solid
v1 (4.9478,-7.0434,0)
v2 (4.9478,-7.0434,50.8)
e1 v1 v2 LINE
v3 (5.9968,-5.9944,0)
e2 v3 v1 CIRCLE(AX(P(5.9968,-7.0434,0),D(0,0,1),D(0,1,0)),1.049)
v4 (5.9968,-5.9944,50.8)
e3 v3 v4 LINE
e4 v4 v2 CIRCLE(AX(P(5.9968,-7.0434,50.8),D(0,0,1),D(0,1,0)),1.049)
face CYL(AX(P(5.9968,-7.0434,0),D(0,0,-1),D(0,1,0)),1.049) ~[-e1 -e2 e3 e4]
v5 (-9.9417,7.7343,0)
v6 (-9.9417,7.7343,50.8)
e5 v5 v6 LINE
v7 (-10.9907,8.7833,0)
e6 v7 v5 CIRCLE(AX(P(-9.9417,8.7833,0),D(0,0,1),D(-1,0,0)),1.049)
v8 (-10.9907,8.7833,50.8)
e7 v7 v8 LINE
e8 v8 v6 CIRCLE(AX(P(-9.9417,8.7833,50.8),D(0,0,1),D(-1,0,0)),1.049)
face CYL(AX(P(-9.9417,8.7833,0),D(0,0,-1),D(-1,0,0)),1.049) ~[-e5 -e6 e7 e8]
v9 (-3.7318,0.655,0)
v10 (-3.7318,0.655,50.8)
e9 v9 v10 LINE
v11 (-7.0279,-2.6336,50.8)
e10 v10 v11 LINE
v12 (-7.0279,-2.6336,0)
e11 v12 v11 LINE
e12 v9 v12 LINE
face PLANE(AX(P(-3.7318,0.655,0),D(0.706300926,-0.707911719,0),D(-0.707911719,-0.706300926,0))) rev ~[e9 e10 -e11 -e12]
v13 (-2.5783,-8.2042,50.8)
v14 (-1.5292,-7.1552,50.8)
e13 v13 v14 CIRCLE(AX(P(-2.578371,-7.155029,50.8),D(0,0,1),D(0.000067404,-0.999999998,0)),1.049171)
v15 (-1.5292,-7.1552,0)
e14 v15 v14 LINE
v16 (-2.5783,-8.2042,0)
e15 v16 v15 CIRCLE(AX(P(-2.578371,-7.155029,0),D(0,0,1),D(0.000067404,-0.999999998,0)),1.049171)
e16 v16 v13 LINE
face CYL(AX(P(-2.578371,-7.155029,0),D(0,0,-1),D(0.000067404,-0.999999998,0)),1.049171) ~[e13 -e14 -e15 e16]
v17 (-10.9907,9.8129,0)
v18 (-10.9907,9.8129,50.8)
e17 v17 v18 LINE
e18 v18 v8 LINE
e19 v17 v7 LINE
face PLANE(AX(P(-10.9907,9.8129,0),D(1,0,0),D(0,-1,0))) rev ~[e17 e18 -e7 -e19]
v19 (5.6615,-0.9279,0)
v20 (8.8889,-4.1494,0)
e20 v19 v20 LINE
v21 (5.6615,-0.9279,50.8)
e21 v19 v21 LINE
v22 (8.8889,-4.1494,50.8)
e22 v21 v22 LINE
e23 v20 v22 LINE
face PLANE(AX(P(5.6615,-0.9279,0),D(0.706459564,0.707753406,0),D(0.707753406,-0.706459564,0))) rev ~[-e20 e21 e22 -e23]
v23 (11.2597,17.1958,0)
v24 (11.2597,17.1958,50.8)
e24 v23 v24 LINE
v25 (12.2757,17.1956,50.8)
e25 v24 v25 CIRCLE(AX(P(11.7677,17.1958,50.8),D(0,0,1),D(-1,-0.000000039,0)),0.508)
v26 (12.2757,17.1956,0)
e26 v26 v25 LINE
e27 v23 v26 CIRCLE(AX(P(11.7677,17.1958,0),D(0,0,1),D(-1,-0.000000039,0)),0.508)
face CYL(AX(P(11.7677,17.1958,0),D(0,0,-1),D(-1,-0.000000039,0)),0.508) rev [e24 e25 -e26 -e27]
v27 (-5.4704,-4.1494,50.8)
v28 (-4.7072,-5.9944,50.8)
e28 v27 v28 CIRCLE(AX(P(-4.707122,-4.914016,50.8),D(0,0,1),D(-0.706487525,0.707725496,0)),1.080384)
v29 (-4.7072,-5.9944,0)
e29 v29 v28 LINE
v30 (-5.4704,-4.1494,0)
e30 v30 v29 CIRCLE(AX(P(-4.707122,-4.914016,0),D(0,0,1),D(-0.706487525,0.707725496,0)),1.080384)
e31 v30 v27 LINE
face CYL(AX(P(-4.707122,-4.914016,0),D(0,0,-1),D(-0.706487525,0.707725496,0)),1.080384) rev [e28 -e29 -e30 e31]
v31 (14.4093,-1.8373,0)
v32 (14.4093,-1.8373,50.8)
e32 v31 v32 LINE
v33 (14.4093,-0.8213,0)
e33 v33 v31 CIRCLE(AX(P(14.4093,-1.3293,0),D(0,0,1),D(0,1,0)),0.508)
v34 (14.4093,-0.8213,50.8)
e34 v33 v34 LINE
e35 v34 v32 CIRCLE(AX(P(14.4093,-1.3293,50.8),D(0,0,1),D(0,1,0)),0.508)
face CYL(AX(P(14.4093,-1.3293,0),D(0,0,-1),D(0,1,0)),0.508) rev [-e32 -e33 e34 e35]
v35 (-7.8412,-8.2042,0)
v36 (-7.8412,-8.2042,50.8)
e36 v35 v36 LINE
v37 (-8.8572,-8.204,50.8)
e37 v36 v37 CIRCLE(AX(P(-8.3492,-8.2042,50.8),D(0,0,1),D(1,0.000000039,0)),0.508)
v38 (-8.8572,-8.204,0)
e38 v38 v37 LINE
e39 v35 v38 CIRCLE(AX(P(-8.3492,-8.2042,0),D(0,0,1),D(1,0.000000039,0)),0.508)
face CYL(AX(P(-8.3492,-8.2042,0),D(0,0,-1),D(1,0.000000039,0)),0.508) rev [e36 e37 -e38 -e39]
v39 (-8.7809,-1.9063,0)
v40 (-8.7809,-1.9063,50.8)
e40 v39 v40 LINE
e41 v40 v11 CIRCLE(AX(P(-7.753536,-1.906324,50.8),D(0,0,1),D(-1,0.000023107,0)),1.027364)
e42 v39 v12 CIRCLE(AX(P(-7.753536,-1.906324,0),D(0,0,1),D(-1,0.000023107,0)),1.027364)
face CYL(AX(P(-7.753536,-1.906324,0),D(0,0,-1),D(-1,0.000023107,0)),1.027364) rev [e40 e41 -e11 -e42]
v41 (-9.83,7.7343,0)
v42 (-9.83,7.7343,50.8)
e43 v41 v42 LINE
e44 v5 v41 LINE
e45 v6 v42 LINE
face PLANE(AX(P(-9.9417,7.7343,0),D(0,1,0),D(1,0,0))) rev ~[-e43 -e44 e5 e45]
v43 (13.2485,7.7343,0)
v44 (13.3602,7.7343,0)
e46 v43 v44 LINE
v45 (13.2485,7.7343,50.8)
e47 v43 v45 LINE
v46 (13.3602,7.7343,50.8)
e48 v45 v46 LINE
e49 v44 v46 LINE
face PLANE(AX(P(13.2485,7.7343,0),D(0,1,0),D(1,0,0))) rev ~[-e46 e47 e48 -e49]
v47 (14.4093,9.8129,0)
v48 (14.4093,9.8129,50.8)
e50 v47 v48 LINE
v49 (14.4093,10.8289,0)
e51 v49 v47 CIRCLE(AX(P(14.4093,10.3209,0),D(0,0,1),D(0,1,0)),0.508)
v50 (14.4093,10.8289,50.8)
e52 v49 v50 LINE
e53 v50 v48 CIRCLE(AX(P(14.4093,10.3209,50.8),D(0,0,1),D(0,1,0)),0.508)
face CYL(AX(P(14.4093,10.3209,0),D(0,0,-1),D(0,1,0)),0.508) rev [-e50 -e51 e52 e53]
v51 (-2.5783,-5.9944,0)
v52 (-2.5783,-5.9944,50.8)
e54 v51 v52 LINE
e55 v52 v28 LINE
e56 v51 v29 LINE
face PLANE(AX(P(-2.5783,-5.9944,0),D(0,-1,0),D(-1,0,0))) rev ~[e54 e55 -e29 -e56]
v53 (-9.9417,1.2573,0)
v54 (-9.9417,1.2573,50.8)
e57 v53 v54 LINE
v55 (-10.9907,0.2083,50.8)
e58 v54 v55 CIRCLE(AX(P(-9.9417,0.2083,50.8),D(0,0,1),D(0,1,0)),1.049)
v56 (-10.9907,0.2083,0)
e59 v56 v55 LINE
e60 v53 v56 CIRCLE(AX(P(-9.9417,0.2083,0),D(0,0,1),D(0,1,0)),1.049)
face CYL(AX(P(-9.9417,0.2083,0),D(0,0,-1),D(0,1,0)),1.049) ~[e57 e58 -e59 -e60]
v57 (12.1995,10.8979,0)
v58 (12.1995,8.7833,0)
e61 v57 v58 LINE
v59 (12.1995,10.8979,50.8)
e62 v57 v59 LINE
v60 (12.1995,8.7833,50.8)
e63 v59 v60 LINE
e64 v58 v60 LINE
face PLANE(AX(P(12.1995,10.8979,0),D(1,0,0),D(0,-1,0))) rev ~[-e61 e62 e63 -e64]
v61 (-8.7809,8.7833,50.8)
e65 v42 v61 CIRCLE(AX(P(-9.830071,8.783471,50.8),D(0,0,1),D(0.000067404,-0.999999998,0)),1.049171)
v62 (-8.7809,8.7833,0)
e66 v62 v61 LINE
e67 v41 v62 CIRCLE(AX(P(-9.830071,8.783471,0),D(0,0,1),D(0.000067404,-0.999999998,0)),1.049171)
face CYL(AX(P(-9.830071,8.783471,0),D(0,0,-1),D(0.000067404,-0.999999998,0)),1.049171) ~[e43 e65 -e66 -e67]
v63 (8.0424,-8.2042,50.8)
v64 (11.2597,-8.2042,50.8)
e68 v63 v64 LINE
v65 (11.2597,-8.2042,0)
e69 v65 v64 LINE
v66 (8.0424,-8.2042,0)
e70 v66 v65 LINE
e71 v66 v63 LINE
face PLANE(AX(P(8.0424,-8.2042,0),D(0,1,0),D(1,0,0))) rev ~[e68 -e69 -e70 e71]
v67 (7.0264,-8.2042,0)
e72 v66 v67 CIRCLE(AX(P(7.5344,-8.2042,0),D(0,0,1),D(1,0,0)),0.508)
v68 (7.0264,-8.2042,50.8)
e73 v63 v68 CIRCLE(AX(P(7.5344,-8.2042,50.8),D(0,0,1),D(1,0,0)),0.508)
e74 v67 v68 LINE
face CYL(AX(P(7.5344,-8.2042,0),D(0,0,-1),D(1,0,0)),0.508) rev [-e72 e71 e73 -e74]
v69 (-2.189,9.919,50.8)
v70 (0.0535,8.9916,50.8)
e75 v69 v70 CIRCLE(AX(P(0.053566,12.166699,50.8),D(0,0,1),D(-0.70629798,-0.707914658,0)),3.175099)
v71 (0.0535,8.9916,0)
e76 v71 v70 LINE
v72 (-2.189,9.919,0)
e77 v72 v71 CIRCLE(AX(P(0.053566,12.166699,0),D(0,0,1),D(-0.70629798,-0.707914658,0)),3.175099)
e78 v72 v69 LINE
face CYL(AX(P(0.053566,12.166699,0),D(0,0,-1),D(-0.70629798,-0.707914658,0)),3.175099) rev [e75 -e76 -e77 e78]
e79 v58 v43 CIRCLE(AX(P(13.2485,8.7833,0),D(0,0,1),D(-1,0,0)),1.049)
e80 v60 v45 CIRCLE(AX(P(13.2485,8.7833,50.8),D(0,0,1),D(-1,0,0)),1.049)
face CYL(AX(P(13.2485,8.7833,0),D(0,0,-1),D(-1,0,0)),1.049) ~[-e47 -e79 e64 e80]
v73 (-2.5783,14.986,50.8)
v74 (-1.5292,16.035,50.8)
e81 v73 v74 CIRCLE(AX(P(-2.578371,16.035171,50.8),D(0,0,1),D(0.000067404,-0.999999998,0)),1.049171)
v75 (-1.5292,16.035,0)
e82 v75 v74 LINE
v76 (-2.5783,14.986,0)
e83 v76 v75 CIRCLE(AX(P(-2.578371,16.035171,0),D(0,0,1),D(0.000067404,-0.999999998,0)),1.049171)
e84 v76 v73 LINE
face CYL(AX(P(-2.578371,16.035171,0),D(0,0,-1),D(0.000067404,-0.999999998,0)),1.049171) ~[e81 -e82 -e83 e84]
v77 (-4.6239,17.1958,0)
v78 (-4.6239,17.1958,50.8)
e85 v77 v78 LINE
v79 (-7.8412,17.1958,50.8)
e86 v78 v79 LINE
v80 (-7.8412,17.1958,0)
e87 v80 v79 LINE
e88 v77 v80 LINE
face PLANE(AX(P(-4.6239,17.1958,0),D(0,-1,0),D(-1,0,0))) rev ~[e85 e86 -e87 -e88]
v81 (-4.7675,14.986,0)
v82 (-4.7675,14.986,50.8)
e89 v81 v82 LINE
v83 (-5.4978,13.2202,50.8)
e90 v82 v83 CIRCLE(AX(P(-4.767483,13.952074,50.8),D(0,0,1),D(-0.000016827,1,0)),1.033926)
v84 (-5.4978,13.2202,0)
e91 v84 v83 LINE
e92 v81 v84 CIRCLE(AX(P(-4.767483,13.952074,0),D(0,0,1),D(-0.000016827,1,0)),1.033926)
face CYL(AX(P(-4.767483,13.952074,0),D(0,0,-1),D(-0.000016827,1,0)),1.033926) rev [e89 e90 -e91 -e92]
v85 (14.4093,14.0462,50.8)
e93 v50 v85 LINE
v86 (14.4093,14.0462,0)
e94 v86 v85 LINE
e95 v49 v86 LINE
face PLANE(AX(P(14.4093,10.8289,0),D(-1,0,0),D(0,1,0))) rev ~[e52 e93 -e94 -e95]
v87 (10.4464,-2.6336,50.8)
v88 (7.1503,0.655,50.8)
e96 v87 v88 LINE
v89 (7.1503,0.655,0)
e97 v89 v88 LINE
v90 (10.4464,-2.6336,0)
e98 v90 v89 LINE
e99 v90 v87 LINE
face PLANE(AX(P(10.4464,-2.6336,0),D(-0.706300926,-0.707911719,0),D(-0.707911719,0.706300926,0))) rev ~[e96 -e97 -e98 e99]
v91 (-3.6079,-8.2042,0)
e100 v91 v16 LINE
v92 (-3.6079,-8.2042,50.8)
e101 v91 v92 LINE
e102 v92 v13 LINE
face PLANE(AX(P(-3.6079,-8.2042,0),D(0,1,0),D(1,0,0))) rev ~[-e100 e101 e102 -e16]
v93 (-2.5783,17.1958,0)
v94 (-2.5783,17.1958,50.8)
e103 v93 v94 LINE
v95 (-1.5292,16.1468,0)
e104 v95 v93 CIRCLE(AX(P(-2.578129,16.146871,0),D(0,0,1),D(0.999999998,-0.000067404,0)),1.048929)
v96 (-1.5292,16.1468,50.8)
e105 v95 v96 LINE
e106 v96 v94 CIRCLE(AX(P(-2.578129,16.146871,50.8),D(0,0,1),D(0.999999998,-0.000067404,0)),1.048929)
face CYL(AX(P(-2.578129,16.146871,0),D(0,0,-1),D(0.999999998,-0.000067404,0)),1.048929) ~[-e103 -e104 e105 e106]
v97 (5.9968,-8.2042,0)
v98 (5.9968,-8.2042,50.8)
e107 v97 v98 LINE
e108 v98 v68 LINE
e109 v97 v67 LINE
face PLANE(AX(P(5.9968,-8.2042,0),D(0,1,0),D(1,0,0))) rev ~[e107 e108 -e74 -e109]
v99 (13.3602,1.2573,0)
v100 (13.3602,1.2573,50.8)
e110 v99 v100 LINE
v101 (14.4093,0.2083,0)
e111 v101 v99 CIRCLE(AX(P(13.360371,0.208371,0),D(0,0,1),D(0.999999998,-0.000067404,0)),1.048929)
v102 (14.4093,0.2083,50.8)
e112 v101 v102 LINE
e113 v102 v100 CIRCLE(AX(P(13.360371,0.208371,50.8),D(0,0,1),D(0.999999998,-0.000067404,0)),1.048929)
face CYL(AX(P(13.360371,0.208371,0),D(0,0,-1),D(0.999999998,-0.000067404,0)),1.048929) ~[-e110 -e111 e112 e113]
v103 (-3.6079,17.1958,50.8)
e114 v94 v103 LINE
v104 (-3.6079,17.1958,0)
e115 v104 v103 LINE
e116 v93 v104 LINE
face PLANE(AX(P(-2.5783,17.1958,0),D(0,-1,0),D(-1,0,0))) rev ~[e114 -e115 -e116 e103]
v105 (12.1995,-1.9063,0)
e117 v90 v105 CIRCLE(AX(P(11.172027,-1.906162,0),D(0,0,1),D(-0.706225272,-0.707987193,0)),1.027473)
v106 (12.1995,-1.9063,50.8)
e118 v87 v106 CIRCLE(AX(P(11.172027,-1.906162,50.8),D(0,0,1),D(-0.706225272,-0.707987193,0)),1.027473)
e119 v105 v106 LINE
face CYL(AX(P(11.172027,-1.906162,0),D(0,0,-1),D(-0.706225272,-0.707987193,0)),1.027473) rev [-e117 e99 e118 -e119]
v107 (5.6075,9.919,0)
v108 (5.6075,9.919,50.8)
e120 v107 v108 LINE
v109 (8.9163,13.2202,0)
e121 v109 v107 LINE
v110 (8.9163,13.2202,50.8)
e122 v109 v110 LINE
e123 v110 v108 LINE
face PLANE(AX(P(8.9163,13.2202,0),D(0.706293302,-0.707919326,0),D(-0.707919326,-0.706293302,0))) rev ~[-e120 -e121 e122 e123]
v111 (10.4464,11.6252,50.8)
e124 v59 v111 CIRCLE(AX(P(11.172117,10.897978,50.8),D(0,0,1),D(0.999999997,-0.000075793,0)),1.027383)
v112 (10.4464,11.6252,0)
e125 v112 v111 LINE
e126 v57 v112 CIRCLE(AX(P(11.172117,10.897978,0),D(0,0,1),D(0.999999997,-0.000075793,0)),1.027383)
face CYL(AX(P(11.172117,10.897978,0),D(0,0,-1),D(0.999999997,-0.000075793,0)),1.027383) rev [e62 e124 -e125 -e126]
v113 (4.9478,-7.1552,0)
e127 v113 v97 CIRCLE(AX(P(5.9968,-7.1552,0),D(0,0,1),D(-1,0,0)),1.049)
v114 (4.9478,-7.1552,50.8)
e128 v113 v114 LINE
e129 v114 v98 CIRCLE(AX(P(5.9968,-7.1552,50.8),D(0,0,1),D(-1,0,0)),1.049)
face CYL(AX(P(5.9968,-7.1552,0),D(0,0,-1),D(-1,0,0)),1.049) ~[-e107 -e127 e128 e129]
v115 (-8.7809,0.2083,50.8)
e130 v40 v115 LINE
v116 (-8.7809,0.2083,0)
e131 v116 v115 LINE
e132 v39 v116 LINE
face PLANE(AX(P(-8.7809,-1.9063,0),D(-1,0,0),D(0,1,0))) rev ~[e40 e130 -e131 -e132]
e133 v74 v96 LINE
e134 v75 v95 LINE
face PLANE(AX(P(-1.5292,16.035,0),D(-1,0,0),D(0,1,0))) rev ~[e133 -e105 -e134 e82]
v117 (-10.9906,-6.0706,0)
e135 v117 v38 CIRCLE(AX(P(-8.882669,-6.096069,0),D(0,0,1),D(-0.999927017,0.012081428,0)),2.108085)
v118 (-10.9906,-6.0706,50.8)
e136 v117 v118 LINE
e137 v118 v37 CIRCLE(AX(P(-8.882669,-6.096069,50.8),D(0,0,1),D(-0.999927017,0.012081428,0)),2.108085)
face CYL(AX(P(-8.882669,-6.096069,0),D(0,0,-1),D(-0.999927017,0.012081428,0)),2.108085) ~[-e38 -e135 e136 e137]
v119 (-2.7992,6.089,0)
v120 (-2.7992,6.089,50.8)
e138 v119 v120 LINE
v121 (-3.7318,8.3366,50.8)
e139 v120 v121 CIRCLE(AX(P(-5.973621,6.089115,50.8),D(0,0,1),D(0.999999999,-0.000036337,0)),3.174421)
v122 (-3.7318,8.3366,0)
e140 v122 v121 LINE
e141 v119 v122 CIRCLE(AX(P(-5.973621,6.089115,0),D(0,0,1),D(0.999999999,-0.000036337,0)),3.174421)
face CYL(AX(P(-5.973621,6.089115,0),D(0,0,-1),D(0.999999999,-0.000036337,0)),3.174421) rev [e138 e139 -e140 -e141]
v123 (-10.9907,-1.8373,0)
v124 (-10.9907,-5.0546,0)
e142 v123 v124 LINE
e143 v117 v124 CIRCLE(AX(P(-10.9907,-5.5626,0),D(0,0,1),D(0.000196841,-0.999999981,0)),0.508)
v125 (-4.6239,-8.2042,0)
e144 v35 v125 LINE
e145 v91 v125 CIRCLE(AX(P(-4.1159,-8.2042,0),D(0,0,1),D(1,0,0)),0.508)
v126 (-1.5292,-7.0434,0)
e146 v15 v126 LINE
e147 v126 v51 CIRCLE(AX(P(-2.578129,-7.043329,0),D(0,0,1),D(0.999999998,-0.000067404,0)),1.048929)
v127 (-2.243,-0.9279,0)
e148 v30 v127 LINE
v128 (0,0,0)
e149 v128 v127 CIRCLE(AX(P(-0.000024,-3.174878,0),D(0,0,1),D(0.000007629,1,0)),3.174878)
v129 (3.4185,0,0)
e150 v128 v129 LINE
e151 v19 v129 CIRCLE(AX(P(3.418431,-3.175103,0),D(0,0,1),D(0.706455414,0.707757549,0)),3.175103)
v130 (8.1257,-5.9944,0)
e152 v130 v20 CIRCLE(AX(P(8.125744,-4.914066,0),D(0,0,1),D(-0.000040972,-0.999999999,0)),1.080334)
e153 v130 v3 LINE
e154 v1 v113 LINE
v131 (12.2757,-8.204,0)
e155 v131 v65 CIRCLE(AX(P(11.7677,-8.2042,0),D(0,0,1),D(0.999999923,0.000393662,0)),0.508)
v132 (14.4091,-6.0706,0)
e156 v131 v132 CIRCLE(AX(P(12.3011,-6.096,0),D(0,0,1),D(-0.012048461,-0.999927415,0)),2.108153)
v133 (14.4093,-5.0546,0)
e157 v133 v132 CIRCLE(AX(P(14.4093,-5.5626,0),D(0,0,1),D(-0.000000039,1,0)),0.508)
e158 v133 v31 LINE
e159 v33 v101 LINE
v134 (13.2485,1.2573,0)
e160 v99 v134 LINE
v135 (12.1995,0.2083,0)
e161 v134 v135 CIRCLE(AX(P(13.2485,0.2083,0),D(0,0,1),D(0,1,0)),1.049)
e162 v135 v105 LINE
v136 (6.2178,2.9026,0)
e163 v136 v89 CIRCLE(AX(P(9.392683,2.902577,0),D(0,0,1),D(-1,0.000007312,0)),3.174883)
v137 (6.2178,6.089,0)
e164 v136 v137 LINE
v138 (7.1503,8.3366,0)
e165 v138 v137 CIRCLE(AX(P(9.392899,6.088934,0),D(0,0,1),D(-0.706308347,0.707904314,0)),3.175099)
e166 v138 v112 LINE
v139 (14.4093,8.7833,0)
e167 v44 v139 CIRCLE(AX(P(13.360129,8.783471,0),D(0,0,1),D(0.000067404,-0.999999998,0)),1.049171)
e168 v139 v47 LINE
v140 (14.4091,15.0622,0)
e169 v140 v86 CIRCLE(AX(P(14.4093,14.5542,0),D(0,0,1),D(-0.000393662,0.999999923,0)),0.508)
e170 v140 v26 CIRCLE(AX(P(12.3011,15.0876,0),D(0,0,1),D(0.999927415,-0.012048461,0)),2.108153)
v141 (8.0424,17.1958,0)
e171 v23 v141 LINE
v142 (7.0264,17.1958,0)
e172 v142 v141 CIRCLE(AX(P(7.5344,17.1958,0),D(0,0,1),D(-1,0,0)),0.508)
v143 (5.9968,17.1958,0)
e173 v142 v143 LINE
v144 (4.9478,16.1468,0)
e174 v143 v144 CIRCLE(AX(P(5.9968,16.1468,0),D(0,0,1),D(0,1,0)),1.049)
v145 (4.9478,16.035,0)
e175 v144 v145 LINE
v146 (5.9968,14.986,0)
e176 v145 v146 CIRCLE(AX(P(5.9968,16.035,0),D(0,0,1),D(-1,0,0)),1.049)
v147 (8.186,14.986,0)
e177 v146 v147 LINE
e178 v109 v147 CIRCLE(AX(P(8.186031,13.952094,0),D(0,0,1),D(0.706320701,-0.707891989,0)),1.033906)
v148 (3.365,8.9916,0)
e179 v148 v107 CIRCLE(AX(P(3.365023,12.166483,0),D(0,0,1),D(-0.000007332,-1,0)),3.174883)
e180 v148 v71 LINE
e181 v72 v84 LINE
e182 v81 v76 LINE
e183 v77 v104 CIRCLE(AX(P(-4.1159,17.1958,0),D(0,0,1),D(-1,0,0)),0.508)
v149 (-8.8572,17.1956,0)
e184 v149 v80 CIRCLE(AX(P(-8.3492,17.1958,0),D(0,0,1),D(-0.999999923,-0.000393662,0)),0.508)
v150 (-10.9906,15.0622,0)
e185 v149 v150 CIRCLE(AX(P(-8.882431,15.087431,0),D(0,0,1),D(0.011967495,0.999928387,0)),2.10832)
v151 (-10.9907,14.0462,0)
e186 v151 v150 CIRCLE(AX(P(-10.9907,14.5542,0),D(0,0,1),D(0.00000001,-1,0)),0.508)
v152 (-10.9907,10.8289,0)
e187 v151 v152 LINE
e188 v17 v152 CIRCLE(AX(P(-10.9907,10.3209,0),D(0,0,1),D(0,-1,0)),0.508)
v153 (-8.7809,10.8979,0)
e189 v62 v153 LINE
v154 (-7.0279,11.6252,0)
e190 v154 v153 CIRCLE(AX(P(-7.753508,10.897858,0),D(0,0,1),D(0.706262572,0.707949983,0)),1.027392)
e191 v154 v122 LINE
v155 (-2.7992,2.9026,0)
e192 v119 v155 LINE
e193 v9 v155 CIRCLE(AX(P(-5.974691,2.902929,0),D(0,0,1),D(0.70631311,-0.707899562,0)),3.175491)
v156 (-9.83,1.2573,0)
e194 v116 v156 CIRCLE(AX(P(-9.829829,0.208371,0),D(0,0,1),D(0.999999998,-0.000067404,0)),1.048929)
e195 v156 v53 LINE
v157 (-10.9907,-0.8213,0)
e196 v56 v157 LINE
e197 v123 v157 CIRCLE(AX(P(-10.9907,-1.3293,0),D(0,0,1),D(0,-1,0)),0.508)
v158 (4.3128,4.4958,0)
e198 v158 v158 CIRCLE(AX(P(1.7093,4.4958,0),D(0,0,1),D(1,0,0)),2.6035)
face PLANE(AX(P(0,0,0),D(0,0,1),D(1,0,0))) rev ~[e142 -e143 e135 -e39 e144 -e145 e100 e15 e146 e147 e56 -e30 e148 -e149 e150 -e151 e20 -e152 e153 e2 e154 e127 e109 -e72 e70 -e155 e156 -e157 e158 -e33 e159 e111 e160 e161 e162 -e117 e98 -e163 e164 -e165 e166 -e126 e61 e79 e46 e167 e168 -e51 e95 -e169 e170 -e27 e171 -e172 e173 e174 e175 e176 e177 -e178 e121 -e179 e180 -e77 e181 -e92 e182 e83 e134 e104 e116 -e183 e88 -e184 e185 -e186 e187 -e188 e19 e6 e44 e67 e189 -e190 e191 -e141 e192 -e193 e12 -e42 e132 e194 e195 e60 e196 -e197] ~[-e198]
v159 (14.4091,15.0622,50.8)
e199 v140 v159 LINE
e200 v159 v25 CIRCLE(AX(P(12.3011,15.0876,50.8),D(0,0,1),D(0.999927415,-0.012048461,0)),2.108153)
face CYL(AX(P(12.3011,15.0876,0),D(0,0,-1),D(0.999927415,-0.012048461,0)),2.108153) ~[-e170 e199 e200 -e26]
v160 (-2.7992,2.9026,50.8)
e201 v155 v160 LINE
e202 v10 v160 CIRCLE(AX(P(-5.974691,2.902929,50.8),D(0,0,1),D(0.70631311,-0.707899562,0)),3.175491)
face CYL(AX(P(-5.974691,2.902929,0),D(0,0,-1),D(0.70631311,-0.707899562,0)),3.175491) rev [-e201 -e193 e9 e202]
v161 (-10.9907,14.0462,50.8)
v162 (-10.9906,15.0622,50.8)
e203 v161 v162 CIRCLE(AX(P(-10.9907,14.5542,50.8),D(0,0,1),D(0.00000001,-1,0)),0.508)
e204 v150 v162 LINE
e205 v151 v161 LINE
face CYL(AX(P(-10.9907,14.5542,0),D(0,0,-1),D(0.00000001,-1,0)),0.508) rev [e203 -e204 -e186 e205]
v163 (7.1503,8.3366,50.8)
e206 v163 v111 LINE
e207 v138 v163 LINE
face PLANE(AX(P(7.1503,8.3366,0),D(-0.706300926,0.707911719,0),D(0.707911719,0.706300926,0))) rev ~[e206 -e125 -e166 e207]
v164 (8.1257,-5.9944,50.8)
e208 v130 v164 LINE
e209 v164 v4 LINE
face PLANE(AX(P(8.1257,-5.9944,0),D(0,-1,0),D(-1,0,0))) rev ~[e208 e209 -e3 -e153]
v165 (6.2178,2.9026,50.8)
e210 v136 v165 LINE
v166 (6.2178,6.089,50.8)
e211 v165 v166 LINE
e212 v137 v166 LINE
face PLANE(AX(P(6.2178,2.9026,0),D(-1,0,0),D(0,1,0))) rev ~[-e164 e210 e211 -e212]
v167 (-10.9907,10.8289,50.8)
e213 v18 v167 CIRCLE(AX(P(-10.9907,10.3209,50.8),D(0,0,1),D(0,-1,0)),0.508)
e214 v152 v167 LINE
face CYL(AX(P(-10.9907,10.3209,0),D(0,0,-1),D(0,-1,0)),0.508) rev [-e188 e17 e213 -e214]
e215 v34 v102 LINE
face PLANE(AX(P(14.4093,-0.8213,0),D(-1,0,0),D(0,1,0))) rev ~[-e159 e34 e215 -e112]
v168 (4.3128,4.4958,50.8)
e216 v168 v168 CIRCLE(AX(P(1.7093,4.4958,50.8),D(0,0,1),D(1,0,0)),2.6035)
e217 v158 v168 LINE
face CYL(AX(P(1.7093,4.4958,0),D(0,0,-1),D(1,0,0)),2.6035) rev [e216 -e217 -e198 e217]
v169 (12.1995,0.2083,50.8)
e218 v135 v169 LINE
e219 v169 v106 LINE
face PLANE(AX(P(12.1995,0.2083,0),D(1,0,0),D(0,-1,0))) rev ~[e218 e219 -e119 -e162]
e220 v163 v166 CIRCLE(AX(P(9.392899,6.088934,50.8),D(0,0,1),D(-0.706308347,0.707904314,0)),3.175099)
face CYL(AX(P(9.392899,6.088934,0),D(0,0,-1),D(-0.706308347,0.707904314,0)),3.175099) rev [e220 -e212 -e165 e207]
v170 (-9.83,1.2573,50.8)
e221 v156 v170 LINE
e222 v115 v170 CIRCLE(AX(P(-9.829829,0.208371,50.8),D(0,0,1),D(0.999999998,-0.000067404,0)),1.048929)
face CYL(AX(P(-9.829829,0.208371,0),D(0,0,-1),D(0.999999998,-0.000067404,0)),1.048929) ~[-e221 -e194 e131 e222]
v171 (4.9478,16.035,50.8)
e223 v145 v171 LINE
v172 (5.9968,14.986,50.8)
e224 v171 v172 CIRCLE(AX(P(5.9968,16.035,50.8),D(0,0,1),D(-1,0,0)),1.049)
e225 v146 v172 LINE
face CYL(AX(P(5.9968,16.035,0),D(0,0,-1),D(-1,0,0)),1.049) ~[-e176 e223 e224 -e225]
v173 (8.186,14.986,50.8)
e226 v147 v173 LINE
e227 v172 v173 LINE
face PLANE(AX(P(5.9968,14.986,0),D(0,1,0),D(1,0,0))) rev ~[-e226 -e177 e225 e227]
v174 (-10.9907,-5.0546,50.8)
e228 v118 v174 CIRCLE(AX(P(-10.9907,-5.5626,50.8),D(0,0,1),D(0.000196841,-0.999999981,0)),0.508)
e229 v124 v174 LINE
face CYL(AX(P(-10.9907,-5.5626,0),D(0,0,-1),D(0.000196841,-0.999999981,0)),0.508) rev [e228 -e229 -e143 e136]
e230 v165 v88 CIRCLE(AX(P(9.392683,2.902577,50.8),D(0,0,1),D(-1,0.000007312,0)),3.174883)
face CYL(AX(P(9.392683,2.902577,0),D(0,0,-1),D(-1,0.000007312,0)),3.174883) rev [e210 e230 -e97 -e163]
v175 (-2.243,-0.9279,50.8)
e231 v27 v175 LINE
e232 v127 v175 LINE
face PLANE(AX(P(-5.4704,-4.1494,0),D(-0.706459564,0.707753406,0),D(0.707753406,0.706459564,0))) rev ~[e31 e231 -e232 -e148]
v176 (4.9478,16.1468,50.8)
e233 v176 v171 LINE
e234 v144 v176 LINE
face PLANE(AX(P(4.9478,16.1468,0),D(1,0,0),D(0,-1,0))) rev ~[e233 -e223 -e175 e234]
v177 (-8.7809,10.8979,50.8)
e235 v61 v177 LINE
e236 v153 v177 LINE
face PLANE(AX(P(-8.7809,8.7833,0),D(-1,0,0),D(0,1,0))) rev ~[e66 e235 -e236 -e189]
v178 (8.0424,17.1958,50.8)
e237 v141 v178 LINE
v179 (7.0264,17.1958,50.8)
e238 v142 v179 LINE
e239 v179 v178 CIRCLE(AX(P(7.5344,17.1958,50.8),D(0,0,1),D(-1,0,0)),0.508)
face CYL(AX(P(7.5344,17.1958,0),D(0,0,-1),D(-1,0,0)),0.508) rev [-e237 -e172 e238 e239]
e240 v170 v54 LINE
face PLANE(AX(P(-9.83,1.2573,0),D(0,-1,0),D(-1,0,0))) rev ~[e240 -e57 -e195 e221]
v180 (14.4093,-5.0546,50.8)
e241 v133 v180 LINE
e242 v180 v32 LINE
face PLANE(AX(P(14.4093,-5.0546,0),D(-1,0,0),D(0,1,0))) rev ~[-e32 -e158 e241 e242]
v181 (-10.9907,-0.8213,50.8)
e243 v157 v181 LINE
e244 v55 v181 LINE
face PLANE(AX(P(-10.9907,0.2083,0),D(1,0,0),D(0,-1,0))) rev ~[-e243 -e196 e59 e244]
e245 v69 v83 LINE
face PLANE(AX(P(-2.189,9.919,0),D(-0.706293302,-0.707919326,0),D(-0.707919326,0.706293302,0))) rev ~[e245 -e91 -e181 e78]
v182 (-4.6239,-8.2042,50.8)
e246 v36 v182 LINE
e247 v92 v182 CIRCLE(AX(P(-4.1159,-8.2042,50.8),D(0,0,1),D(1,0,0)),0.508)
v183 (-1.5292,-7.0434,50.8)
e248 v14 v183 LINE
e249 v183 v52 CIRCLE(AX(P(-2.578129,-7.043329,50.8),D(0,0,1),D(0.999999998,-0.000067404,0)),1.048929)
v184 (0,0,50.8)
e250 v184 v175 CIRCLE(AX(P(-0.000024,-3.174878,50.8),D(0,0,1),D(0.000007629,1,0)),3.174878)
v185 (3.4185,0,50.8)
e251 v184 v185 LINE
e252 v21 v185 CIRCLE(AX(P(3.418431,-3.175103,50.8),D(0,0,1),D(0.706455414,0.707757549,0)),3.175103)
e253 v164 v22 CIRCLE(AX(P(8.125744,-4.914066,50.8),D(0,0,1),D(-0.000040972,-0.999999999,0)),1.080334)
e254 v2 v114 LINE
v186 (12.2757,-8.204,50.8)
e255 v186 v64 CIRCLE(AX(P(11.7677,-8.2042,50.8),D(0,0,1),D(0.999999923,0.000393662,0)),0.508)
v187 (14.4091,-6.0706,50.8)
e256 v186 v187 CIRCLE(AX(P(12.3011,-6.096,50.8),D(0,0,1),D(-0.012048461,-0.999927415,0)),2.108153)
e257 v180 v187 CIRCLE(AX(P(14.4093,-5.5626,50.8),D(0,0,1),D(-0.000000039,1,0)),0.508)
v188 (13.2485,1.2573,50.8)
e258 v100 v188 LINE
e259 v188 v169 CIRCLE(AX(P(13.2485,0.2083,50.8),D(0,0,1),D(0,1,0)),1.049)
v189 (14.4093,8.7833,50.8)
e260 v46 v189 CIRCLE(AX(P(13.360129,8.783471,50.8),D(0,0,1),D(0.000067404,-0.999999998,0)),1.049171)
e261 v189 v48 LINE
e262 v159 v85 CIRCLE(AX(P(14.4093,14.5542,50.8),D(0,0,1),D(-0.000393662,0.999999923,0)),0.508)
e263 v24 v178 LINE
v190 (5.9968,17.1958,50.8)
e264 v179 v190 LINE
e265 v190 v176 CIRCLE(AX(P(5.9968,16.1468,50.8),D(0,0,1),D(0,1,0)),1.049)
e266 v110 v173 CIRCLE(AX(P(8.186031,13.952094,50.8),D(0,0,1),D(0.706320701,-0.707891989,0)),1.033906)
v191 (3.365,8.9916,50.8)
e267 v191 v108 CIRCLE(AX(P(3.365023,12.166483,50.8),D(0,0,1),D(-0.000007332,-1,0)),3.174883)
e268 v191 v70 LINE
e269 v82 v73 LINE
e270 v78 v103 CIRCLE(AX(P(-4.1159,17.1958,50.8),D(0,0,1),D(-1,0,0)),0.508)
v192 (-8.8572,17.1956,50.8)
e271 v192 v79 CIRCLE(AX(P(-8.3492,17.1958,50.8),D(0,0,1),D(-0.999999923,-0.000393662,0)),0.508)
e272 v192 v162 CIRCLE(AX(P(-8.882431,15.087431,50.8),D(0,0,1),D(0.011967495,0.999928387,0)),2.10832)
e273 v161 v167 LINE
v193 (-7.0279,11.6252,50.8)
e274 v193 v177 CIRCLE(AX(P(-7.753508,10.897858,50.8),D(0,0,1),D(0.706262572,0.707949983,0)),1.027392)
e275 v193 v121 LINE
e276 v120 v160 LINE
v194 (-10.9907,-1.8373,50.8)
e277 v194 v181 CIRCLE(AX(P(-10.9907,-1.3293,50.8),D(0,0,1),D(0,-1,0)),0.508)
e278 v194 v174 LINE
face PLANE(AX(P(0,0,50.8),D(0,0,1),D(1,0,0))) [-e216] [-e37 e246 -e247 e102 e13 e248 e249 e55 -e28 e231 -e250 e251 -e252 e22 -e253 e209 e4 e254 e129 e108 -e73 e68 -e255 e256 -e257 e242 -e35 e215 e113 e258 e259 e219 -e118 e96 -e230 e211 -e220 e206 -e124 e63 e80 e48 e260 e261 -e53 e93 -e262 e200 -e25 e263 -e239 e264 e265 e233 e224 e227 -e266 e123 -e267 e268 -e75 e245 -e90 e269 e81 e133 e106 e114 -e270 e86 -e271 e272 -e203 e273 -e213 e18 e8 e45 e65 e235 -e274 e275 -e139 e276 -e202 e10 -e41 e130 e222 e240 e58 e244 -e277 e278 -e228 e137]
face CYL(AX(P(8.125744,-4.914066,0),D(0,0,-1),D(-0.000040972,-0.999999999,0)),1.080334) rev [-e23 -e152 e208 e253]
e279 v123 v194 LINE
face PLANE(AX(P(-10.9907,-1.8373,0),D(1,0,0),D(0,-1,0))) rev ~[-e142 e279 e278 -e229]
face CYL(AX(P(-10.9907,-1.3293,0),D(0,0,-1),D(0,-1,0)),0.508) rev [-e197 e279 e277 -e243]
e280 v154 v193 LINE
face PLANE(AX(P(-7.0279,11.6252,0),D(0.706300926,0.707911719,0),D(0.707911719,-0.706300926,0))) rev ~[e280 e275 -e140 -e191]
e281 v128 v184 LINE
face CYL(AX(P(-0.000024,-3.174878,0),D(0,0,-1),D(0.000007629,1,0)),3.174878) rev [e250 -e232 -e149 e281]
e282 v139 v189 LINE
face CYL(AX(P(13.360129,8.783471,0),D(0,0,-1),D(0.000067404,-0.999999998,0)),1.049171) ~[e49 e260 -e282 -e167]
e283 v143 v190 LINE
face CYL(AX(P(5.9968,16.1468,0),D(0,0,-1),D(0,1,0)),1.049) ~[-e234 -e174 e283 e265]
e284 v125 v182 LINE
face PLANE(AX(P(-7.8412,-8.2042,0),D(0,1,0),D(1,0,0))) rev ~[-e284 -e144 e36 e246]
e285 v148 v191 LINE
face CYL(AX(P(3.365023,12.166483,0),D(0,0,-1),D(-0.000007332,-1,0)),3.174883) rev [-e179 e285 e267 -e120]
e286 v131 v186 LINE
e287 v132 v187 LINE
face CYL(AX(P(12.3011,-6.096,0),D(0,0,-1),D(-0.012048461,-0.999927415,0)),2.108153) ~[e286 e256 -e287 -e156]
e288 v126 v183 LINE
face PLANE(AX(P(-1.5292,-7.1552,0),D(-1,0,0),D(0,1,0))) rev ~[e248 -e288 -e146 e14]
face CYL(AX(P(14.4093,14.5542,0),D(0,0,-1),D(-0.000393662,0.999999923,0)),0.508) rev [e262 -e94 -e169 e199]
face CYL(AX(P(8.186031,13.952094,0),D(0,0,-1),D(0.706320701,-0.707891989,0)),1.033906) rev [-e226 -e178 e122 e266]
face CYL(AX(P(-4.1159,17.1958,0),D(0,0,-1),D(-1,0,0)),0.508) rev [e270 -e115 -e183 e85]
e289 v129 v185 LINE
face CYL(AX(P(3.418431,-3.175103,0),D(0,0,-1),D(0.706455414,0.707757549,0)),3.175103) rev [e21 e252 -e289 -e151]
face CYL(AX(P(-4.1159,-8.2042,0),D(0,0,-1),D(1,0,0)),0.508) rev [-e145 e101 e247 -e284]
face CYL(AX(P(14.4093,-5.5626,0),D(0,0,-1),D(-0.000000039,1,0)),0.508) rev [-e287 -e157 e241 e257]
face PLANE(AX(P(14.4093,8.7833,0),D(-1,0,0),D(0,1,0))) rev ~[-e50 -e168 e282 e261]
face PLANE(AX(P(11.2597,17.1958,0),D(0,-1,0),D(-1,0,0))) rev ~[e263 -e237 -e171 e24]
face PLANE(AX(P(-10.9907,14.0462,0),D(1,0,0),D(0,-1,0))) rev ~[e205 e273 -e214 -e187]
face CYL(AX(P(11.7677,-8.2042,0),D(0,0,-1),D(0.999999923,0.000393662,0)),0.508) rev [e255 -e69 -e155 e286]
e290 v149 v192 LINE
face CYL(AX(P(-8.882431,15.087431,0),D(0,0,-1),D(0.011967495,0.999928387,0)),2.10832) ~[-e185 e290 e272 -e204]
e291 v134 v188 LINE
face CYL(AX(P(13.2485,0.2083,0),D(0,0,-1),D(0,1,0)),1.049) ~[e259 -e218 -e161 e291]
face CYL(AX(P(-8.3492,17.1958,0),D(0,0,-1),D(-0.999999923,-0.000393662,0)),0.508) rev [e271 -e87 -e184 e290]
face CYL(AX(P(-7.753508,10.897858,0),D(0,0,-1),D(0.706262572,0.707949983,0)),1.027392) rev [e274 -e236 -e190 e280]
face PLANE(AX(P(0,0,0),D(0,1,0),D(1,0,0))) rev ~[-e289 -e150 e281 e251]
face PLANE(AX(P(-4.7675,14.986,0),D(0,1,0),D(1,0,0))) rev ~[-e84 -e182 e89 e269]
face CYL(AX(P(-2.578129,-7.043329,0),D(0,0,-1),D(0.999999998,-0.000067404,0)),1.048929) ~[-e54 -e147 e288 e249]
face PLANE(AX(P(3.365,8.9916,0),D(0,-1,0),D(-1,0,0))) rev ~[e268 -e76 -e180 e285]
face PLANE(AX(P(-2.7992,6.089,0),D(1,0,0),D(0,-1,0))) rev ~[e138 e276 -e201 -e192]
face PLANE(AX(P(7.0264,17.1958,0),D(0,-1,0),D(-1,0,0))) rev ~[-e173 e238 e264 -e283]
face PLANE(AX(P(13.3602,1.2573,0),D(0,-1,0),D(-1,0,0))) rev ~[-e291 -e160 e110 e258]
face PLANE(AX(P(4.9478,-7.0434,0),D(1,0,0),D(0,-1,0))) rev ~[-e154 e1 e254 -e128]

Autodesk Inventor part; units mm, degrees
ref_plane "YZ Plane" through (0, 0, 0) normal (1, 0, 0) x (0, 1, 0)
ref_plane "XZ Plane" through (0, 0, 0) normal (0, 1, 0) x (-1, 0, 0)
ref_plane "XY Plane" through (0, 0, 0) normal (0, 0, 1) x (1, 0, 0)
sketch "Sketch1" plane through (0, 0, 0) normal (0, 0, 1) x (1, 0, 0)
  arc A0 (-5.4704, -4.1494) -> (-4.7072, -5.9944) centre (-4.7072, -4.914) ccw
  line L0 (-5.4704, -4.1494) -> (-2.243, -0.9279)
  arc A1 (0, 0) -> (-2.243, -0.9279) centre (0, -3.175) ccw
  line L1 (0, 0) -> (3.4185, 0)
  arc A2 (5.6615, -0.9279) -> (3.4185, 0) centre (3.4185, -3.175) ccw
  line L2 (5.6615, -0.9279) -> (8.8889, -4.1494)
  arc A3 (8.1257, -5.9944) -> (8.8889, -4.1494) centre (8.1257, -4.914) ccw
  line L3 (8.1257, -5.9944) -> (5.9968, -5.9944)
  arc A4 (5.9968, -5.9944) -> (4.9478, -7.0434) centre (5.9968, -7.0434) ccw
  line L4 (4.9478, -7.0434) -> (4.9478, -7.1552)
  arc A5 (4.9478, -7.1552) -> (5.9968, -8.2042) centre (5.9968, -7.1552) ccw
  line L5 (5.9968, -8.2042) -> (7.0264, -8.2042)
  arc A6 (8.0424, -8.2042) -> (7.0264, -8.2042) centre (7.5344, -8.2042) ccw
  line L6 (8.0424, -8.2042) -> (11.2597, -8.2042)
  arc A7 (12.2757, -8.204) -> (11.2597, -8.2042) centre (11.7677, -8.2042) ccw
  arc A8 (12.2757, -8.204) -> (14.4091, -6.0706) centre (12.3011, -6.096) ccw
  arc A9 (14.4093, -5.0546) -> (14.4091, -6.0706) centre (14.4093, -5.5626) ccw
  line L7 (14.4093, -5.0546) -> (14.4093, -1.8373)
  arc A10 (14.4093, -0.8213) -> (14.4093, -1.8373) centre (14.4093, -1.3293) ccw
  line L8 (14.4093, -0.8213) -> (14.4093, 0.2083)
  arc A11 (14.4093, 0.2083) -> (13.3602, 1.2573) centre (13.3602, 0.2083) ccw
  line L9 (13.3602, 1.2573) -> (13.2485, 1.2573)
  arc A12 (13.2485, 1.2573) -> (12.1995, 0.2083) centre (13.2485, 0.2083) ccw
  line L10 (12.1995, 0.2083) -> (12.1995, -1.9063)
  arc A13 (10.4464, -2.6336) -> (12.1995, -1.9063) centre (11.172, -1.9063) ccw
  line L11 (10.4464, -2.6336) -> (7.1503, 0.655)
  arc A14 (6.2178, 2.9026) -> (7.1503, 0.655) centre (9.3928, 2.9026) ccw
  line L12 (6.2178, 2.9026) -> (6.2178, 6.089)
  arc A15 (7.1503, 8.3366) -> (6.2178, 6.089) centre (9.3928, 6.089) ccw
  line L13 (7.1503, 8.3366) -> (10.4464, 11.6252)
  arc A16 (12.1995, 10.8979) -> (10.4464, 11.6252) centre (11.172, 10.8979) ccw
  line L14 (12.1995, 10.8979) -> (12.1995, 8.7833)
  arc A17 (12.1995, 8.7833) -> (13.2485, 7.7343) centre (13.2485, 8.7833) ccw
  line L15 (13.2485, 7.7343) -> (13.3602, 7.7343)
  arc A18 (13.3602, 7.7343) -> (14.4093, 8.7833) centre (13.3602, 8.7833) ccw
  line L16 (14.4093, 8.7833) -> (14.4093, 9.8129)
  arc A19 (14.4093, 10.8289) -> (14.4093, 9.8129) centre (14.4093, 10.3209) ccw
  line L17 (14.4093, 10.8289) -> (14.4093, 14.0462)
  arc A20 (14.4091, 15.0622) -> (14.4093, 14.0462) centre (14.4093, 14.5542) ccw
  arc A21 (14.4091, 15.0622) -> (12.2757, 17.1956) centre (12.3011, 15.0876) ccw
  arc A22 (11.2597, 17.1958) -> (12.2757, 17.1956) centre (11.7677, 17.1958) ccw
  line L18 (11.2597, 17.1958) -> (8.0424, 17.1958)
  arc A23 (7.0264, 17.1958) -> (8.0424, 17.1958) centre (7.5344, 17.1958) ccw
  line L19 (7.0264, 17.1958) -> (5.9968, 17.1958)
  arc A24 (5.9968, 17.1958) -> (4.9478, 16.1468) centre (5.9968, 16.1468) ccw
  line L20 (4.9478, 16.1468) -> (4.9478, 16.035)
  arc A25 (4.9478, 16.035) -> (5.9968, 14.986) centre (5.9968, 16.035) ccw
  line L21 (5.9968, 14.986) -> (8.186, 14.986)
  arc A26 (8.9163, 13.2202) -> (8.186, 14.986) centre (8.186, 13.9521) ccw
  line L22 (8.9163, 13.2202) -> (5.6075, 9.919)
  arc A27 (3.365, 8.9916) -> (5.6075, 9.919) centre (3.365, 12.1666) ccw
  line L23 (3.365, 8.9916) -> (0.0535, 8.9916)
  arc A28 (-2.189, 9.919) -> (0.0535, 8.9916) centre (0.0535, 12.1666) ccw
  line L24 (-2.189, 9.919) -> (-5.4978, 13.2202)
  arc A29 (-4.7675, 14.986) -> (-5.4978, 13.2202) centre (-4.7675, 13.9521) ccw
  line L25 (-4.7675, 14.986) -> (-2.5783, 14.986)
  arc A30 (-2.5783, 14.986) -> (-1.5292, 16.035) centre (-2.5783, 16.035) ccw
  line L26 (-1.5292, 16.035) -> (-1.5292, 16.1468)
  arc A31 (-1.5292, 16.1468) -> (-2.5783, 17.1958) centre (-2.5783, 16.1468) ccw
  line L27 (-2.5783, 17.1958) -> (-3.6079, 17.1958)
  arc A32 (-4.6239, 17.1958) -> (-3.6079, 17.1958) centre (-4.1159, 17.1958) ccw
  line L28 (-4.6239, 17.1958) -> (-7.8412, 17.1958)
  arc A33 (-8.8572, 17.1956) -> (-7.8412, 17.1958) centre (-8.3492, 17.1958) ccw
  arc A34 (-8.8572, 17.1956) -> (-10.9906, 15.0622) centre (-8.8825, 15.0876) ccw
  arc A35 (-10.9907, 14.0462) -> (-10.9906, 15.0622) centre (-10.9907, 14.5542) ccw
  line L29 (-10.9907, 14.0462) -> (-10.9907, 10.8289)
  arc A36 (-10.9907, 9.8129) -> (-10.9907, 10.8289) centre (-10.9907, 10.3209) ccw
  line L30 (-10.9907, 9.8129) -> (-10.9907, 8.7833)
  arc A37 (-10.9907, 8.7833) -> (-9.9417, 7.7343) centre (-9.9417, 8.7833) ccw
  line L31 (-9.9417, 7.7343) -> (-9.83, 7.7343)
  arc A38 (-9.83, 7.7343) -> (-8.7809, 8.7833) centre (-9.83, 8.7833) ccw
  line L32 (-8.7809, 8.7833) -> (-8.7809, 10.8979)
  arc A39 (-7.0279, 11.6252) -> (-8.7809, 10.8979) centre (-7.7535, 10.8979) ccw
  line L33 (-7.0279, 11.6252) -> (-3.7318, 8.3366)
  arc A40 (-2.7992, 6.089) -> (-3.7318, 8.3366) centre (-5.9742, 6.089) ccw
  line L34 (-2.7992, 6.089) -> (-2.7992, 2.9026)
  arc A41 (-3.7318, 0.655) -> (-2.7992, 2.9026) centre (-5.9742, 2.9026) ccw
  line L35 (-3.7318, 0.655) -> (-7.0279, -2.6336)
  arc A42 (-8.7809, -1.9063) -> (-7.0279, -2.6336) centre (-7.7535, -1.9063) ccw
  line L36 (-8.7809, -1.9063) -> (-8.7809, 0.2083)
  arc A43 (-8.7809, 0.2083) -> (-9.83, 1.2573) centre (-9.83, 0.2083) ccw
  line L37 (-9.83, 1.2573) -> (-9.9417, 1.2573)
  arc A44 (-9.9417, 1.2573) -> (-10.9907, 0.2083) centre (-9.9417, 0.2083) ccw
  line L38 (-10.9907, 0.2083) -> (-10.9907, -0.8213)
  arc A45 (-10.9907, -1.8373) -> (-10.9907, -0.8213) centre (-10.9907, -1.3293) ccw
  line L39 (-10.9907, -1.8373) -> (-10.9907, -5.0546)
  arc A46 (-10.9906, -6.0706) -> (-10.9907, -5.0546) centre (-10.9907, -5.5626) ccw
  arc A47 (-10.9906, -6.0706) -> (-8.8572, -8.204) centre (-8.8825, -6.096) ccw
  arc A48 (-7.8412, -8.2042) -> (-8.8572, -8.204) centre (-8.3492, -8.2042) ccw
  line L40 (-7.8412, -8.2042) -> (-4.6239, -8.2042)
  arc A49 (-3.6079, -8.2042) -> (-4.6239, -8.2042) centre (-4.1159, -8.2042) ccw
  line L41 (-3.6079, -8.2042) -> (-2.5783, -8.2042)
  arc A50 (-2.5783, -8.2042) -> (-1.5292, -7.1552) centre (-2.5783, -7.1552) ccw
  line L42 (-1.5292, -7.1552) -> (-1.5292, -7.0434)
  arc A51 (-1.5292, -7.0434) -> (-2.5783, -5.9944) centre (-2.5783, -7.0434) ccw
  line L43 (-2.5783, -5.9944) -> (-4.7072, -5.9944)
  circle A52 centre (1.7093, 4.4958) radius 2.6035
extrude "Extrusion1" add sketch "Sketch1" along normal blind 50.8
properties part number "2in 1x1 T slot" material "Steel, Alloy"
